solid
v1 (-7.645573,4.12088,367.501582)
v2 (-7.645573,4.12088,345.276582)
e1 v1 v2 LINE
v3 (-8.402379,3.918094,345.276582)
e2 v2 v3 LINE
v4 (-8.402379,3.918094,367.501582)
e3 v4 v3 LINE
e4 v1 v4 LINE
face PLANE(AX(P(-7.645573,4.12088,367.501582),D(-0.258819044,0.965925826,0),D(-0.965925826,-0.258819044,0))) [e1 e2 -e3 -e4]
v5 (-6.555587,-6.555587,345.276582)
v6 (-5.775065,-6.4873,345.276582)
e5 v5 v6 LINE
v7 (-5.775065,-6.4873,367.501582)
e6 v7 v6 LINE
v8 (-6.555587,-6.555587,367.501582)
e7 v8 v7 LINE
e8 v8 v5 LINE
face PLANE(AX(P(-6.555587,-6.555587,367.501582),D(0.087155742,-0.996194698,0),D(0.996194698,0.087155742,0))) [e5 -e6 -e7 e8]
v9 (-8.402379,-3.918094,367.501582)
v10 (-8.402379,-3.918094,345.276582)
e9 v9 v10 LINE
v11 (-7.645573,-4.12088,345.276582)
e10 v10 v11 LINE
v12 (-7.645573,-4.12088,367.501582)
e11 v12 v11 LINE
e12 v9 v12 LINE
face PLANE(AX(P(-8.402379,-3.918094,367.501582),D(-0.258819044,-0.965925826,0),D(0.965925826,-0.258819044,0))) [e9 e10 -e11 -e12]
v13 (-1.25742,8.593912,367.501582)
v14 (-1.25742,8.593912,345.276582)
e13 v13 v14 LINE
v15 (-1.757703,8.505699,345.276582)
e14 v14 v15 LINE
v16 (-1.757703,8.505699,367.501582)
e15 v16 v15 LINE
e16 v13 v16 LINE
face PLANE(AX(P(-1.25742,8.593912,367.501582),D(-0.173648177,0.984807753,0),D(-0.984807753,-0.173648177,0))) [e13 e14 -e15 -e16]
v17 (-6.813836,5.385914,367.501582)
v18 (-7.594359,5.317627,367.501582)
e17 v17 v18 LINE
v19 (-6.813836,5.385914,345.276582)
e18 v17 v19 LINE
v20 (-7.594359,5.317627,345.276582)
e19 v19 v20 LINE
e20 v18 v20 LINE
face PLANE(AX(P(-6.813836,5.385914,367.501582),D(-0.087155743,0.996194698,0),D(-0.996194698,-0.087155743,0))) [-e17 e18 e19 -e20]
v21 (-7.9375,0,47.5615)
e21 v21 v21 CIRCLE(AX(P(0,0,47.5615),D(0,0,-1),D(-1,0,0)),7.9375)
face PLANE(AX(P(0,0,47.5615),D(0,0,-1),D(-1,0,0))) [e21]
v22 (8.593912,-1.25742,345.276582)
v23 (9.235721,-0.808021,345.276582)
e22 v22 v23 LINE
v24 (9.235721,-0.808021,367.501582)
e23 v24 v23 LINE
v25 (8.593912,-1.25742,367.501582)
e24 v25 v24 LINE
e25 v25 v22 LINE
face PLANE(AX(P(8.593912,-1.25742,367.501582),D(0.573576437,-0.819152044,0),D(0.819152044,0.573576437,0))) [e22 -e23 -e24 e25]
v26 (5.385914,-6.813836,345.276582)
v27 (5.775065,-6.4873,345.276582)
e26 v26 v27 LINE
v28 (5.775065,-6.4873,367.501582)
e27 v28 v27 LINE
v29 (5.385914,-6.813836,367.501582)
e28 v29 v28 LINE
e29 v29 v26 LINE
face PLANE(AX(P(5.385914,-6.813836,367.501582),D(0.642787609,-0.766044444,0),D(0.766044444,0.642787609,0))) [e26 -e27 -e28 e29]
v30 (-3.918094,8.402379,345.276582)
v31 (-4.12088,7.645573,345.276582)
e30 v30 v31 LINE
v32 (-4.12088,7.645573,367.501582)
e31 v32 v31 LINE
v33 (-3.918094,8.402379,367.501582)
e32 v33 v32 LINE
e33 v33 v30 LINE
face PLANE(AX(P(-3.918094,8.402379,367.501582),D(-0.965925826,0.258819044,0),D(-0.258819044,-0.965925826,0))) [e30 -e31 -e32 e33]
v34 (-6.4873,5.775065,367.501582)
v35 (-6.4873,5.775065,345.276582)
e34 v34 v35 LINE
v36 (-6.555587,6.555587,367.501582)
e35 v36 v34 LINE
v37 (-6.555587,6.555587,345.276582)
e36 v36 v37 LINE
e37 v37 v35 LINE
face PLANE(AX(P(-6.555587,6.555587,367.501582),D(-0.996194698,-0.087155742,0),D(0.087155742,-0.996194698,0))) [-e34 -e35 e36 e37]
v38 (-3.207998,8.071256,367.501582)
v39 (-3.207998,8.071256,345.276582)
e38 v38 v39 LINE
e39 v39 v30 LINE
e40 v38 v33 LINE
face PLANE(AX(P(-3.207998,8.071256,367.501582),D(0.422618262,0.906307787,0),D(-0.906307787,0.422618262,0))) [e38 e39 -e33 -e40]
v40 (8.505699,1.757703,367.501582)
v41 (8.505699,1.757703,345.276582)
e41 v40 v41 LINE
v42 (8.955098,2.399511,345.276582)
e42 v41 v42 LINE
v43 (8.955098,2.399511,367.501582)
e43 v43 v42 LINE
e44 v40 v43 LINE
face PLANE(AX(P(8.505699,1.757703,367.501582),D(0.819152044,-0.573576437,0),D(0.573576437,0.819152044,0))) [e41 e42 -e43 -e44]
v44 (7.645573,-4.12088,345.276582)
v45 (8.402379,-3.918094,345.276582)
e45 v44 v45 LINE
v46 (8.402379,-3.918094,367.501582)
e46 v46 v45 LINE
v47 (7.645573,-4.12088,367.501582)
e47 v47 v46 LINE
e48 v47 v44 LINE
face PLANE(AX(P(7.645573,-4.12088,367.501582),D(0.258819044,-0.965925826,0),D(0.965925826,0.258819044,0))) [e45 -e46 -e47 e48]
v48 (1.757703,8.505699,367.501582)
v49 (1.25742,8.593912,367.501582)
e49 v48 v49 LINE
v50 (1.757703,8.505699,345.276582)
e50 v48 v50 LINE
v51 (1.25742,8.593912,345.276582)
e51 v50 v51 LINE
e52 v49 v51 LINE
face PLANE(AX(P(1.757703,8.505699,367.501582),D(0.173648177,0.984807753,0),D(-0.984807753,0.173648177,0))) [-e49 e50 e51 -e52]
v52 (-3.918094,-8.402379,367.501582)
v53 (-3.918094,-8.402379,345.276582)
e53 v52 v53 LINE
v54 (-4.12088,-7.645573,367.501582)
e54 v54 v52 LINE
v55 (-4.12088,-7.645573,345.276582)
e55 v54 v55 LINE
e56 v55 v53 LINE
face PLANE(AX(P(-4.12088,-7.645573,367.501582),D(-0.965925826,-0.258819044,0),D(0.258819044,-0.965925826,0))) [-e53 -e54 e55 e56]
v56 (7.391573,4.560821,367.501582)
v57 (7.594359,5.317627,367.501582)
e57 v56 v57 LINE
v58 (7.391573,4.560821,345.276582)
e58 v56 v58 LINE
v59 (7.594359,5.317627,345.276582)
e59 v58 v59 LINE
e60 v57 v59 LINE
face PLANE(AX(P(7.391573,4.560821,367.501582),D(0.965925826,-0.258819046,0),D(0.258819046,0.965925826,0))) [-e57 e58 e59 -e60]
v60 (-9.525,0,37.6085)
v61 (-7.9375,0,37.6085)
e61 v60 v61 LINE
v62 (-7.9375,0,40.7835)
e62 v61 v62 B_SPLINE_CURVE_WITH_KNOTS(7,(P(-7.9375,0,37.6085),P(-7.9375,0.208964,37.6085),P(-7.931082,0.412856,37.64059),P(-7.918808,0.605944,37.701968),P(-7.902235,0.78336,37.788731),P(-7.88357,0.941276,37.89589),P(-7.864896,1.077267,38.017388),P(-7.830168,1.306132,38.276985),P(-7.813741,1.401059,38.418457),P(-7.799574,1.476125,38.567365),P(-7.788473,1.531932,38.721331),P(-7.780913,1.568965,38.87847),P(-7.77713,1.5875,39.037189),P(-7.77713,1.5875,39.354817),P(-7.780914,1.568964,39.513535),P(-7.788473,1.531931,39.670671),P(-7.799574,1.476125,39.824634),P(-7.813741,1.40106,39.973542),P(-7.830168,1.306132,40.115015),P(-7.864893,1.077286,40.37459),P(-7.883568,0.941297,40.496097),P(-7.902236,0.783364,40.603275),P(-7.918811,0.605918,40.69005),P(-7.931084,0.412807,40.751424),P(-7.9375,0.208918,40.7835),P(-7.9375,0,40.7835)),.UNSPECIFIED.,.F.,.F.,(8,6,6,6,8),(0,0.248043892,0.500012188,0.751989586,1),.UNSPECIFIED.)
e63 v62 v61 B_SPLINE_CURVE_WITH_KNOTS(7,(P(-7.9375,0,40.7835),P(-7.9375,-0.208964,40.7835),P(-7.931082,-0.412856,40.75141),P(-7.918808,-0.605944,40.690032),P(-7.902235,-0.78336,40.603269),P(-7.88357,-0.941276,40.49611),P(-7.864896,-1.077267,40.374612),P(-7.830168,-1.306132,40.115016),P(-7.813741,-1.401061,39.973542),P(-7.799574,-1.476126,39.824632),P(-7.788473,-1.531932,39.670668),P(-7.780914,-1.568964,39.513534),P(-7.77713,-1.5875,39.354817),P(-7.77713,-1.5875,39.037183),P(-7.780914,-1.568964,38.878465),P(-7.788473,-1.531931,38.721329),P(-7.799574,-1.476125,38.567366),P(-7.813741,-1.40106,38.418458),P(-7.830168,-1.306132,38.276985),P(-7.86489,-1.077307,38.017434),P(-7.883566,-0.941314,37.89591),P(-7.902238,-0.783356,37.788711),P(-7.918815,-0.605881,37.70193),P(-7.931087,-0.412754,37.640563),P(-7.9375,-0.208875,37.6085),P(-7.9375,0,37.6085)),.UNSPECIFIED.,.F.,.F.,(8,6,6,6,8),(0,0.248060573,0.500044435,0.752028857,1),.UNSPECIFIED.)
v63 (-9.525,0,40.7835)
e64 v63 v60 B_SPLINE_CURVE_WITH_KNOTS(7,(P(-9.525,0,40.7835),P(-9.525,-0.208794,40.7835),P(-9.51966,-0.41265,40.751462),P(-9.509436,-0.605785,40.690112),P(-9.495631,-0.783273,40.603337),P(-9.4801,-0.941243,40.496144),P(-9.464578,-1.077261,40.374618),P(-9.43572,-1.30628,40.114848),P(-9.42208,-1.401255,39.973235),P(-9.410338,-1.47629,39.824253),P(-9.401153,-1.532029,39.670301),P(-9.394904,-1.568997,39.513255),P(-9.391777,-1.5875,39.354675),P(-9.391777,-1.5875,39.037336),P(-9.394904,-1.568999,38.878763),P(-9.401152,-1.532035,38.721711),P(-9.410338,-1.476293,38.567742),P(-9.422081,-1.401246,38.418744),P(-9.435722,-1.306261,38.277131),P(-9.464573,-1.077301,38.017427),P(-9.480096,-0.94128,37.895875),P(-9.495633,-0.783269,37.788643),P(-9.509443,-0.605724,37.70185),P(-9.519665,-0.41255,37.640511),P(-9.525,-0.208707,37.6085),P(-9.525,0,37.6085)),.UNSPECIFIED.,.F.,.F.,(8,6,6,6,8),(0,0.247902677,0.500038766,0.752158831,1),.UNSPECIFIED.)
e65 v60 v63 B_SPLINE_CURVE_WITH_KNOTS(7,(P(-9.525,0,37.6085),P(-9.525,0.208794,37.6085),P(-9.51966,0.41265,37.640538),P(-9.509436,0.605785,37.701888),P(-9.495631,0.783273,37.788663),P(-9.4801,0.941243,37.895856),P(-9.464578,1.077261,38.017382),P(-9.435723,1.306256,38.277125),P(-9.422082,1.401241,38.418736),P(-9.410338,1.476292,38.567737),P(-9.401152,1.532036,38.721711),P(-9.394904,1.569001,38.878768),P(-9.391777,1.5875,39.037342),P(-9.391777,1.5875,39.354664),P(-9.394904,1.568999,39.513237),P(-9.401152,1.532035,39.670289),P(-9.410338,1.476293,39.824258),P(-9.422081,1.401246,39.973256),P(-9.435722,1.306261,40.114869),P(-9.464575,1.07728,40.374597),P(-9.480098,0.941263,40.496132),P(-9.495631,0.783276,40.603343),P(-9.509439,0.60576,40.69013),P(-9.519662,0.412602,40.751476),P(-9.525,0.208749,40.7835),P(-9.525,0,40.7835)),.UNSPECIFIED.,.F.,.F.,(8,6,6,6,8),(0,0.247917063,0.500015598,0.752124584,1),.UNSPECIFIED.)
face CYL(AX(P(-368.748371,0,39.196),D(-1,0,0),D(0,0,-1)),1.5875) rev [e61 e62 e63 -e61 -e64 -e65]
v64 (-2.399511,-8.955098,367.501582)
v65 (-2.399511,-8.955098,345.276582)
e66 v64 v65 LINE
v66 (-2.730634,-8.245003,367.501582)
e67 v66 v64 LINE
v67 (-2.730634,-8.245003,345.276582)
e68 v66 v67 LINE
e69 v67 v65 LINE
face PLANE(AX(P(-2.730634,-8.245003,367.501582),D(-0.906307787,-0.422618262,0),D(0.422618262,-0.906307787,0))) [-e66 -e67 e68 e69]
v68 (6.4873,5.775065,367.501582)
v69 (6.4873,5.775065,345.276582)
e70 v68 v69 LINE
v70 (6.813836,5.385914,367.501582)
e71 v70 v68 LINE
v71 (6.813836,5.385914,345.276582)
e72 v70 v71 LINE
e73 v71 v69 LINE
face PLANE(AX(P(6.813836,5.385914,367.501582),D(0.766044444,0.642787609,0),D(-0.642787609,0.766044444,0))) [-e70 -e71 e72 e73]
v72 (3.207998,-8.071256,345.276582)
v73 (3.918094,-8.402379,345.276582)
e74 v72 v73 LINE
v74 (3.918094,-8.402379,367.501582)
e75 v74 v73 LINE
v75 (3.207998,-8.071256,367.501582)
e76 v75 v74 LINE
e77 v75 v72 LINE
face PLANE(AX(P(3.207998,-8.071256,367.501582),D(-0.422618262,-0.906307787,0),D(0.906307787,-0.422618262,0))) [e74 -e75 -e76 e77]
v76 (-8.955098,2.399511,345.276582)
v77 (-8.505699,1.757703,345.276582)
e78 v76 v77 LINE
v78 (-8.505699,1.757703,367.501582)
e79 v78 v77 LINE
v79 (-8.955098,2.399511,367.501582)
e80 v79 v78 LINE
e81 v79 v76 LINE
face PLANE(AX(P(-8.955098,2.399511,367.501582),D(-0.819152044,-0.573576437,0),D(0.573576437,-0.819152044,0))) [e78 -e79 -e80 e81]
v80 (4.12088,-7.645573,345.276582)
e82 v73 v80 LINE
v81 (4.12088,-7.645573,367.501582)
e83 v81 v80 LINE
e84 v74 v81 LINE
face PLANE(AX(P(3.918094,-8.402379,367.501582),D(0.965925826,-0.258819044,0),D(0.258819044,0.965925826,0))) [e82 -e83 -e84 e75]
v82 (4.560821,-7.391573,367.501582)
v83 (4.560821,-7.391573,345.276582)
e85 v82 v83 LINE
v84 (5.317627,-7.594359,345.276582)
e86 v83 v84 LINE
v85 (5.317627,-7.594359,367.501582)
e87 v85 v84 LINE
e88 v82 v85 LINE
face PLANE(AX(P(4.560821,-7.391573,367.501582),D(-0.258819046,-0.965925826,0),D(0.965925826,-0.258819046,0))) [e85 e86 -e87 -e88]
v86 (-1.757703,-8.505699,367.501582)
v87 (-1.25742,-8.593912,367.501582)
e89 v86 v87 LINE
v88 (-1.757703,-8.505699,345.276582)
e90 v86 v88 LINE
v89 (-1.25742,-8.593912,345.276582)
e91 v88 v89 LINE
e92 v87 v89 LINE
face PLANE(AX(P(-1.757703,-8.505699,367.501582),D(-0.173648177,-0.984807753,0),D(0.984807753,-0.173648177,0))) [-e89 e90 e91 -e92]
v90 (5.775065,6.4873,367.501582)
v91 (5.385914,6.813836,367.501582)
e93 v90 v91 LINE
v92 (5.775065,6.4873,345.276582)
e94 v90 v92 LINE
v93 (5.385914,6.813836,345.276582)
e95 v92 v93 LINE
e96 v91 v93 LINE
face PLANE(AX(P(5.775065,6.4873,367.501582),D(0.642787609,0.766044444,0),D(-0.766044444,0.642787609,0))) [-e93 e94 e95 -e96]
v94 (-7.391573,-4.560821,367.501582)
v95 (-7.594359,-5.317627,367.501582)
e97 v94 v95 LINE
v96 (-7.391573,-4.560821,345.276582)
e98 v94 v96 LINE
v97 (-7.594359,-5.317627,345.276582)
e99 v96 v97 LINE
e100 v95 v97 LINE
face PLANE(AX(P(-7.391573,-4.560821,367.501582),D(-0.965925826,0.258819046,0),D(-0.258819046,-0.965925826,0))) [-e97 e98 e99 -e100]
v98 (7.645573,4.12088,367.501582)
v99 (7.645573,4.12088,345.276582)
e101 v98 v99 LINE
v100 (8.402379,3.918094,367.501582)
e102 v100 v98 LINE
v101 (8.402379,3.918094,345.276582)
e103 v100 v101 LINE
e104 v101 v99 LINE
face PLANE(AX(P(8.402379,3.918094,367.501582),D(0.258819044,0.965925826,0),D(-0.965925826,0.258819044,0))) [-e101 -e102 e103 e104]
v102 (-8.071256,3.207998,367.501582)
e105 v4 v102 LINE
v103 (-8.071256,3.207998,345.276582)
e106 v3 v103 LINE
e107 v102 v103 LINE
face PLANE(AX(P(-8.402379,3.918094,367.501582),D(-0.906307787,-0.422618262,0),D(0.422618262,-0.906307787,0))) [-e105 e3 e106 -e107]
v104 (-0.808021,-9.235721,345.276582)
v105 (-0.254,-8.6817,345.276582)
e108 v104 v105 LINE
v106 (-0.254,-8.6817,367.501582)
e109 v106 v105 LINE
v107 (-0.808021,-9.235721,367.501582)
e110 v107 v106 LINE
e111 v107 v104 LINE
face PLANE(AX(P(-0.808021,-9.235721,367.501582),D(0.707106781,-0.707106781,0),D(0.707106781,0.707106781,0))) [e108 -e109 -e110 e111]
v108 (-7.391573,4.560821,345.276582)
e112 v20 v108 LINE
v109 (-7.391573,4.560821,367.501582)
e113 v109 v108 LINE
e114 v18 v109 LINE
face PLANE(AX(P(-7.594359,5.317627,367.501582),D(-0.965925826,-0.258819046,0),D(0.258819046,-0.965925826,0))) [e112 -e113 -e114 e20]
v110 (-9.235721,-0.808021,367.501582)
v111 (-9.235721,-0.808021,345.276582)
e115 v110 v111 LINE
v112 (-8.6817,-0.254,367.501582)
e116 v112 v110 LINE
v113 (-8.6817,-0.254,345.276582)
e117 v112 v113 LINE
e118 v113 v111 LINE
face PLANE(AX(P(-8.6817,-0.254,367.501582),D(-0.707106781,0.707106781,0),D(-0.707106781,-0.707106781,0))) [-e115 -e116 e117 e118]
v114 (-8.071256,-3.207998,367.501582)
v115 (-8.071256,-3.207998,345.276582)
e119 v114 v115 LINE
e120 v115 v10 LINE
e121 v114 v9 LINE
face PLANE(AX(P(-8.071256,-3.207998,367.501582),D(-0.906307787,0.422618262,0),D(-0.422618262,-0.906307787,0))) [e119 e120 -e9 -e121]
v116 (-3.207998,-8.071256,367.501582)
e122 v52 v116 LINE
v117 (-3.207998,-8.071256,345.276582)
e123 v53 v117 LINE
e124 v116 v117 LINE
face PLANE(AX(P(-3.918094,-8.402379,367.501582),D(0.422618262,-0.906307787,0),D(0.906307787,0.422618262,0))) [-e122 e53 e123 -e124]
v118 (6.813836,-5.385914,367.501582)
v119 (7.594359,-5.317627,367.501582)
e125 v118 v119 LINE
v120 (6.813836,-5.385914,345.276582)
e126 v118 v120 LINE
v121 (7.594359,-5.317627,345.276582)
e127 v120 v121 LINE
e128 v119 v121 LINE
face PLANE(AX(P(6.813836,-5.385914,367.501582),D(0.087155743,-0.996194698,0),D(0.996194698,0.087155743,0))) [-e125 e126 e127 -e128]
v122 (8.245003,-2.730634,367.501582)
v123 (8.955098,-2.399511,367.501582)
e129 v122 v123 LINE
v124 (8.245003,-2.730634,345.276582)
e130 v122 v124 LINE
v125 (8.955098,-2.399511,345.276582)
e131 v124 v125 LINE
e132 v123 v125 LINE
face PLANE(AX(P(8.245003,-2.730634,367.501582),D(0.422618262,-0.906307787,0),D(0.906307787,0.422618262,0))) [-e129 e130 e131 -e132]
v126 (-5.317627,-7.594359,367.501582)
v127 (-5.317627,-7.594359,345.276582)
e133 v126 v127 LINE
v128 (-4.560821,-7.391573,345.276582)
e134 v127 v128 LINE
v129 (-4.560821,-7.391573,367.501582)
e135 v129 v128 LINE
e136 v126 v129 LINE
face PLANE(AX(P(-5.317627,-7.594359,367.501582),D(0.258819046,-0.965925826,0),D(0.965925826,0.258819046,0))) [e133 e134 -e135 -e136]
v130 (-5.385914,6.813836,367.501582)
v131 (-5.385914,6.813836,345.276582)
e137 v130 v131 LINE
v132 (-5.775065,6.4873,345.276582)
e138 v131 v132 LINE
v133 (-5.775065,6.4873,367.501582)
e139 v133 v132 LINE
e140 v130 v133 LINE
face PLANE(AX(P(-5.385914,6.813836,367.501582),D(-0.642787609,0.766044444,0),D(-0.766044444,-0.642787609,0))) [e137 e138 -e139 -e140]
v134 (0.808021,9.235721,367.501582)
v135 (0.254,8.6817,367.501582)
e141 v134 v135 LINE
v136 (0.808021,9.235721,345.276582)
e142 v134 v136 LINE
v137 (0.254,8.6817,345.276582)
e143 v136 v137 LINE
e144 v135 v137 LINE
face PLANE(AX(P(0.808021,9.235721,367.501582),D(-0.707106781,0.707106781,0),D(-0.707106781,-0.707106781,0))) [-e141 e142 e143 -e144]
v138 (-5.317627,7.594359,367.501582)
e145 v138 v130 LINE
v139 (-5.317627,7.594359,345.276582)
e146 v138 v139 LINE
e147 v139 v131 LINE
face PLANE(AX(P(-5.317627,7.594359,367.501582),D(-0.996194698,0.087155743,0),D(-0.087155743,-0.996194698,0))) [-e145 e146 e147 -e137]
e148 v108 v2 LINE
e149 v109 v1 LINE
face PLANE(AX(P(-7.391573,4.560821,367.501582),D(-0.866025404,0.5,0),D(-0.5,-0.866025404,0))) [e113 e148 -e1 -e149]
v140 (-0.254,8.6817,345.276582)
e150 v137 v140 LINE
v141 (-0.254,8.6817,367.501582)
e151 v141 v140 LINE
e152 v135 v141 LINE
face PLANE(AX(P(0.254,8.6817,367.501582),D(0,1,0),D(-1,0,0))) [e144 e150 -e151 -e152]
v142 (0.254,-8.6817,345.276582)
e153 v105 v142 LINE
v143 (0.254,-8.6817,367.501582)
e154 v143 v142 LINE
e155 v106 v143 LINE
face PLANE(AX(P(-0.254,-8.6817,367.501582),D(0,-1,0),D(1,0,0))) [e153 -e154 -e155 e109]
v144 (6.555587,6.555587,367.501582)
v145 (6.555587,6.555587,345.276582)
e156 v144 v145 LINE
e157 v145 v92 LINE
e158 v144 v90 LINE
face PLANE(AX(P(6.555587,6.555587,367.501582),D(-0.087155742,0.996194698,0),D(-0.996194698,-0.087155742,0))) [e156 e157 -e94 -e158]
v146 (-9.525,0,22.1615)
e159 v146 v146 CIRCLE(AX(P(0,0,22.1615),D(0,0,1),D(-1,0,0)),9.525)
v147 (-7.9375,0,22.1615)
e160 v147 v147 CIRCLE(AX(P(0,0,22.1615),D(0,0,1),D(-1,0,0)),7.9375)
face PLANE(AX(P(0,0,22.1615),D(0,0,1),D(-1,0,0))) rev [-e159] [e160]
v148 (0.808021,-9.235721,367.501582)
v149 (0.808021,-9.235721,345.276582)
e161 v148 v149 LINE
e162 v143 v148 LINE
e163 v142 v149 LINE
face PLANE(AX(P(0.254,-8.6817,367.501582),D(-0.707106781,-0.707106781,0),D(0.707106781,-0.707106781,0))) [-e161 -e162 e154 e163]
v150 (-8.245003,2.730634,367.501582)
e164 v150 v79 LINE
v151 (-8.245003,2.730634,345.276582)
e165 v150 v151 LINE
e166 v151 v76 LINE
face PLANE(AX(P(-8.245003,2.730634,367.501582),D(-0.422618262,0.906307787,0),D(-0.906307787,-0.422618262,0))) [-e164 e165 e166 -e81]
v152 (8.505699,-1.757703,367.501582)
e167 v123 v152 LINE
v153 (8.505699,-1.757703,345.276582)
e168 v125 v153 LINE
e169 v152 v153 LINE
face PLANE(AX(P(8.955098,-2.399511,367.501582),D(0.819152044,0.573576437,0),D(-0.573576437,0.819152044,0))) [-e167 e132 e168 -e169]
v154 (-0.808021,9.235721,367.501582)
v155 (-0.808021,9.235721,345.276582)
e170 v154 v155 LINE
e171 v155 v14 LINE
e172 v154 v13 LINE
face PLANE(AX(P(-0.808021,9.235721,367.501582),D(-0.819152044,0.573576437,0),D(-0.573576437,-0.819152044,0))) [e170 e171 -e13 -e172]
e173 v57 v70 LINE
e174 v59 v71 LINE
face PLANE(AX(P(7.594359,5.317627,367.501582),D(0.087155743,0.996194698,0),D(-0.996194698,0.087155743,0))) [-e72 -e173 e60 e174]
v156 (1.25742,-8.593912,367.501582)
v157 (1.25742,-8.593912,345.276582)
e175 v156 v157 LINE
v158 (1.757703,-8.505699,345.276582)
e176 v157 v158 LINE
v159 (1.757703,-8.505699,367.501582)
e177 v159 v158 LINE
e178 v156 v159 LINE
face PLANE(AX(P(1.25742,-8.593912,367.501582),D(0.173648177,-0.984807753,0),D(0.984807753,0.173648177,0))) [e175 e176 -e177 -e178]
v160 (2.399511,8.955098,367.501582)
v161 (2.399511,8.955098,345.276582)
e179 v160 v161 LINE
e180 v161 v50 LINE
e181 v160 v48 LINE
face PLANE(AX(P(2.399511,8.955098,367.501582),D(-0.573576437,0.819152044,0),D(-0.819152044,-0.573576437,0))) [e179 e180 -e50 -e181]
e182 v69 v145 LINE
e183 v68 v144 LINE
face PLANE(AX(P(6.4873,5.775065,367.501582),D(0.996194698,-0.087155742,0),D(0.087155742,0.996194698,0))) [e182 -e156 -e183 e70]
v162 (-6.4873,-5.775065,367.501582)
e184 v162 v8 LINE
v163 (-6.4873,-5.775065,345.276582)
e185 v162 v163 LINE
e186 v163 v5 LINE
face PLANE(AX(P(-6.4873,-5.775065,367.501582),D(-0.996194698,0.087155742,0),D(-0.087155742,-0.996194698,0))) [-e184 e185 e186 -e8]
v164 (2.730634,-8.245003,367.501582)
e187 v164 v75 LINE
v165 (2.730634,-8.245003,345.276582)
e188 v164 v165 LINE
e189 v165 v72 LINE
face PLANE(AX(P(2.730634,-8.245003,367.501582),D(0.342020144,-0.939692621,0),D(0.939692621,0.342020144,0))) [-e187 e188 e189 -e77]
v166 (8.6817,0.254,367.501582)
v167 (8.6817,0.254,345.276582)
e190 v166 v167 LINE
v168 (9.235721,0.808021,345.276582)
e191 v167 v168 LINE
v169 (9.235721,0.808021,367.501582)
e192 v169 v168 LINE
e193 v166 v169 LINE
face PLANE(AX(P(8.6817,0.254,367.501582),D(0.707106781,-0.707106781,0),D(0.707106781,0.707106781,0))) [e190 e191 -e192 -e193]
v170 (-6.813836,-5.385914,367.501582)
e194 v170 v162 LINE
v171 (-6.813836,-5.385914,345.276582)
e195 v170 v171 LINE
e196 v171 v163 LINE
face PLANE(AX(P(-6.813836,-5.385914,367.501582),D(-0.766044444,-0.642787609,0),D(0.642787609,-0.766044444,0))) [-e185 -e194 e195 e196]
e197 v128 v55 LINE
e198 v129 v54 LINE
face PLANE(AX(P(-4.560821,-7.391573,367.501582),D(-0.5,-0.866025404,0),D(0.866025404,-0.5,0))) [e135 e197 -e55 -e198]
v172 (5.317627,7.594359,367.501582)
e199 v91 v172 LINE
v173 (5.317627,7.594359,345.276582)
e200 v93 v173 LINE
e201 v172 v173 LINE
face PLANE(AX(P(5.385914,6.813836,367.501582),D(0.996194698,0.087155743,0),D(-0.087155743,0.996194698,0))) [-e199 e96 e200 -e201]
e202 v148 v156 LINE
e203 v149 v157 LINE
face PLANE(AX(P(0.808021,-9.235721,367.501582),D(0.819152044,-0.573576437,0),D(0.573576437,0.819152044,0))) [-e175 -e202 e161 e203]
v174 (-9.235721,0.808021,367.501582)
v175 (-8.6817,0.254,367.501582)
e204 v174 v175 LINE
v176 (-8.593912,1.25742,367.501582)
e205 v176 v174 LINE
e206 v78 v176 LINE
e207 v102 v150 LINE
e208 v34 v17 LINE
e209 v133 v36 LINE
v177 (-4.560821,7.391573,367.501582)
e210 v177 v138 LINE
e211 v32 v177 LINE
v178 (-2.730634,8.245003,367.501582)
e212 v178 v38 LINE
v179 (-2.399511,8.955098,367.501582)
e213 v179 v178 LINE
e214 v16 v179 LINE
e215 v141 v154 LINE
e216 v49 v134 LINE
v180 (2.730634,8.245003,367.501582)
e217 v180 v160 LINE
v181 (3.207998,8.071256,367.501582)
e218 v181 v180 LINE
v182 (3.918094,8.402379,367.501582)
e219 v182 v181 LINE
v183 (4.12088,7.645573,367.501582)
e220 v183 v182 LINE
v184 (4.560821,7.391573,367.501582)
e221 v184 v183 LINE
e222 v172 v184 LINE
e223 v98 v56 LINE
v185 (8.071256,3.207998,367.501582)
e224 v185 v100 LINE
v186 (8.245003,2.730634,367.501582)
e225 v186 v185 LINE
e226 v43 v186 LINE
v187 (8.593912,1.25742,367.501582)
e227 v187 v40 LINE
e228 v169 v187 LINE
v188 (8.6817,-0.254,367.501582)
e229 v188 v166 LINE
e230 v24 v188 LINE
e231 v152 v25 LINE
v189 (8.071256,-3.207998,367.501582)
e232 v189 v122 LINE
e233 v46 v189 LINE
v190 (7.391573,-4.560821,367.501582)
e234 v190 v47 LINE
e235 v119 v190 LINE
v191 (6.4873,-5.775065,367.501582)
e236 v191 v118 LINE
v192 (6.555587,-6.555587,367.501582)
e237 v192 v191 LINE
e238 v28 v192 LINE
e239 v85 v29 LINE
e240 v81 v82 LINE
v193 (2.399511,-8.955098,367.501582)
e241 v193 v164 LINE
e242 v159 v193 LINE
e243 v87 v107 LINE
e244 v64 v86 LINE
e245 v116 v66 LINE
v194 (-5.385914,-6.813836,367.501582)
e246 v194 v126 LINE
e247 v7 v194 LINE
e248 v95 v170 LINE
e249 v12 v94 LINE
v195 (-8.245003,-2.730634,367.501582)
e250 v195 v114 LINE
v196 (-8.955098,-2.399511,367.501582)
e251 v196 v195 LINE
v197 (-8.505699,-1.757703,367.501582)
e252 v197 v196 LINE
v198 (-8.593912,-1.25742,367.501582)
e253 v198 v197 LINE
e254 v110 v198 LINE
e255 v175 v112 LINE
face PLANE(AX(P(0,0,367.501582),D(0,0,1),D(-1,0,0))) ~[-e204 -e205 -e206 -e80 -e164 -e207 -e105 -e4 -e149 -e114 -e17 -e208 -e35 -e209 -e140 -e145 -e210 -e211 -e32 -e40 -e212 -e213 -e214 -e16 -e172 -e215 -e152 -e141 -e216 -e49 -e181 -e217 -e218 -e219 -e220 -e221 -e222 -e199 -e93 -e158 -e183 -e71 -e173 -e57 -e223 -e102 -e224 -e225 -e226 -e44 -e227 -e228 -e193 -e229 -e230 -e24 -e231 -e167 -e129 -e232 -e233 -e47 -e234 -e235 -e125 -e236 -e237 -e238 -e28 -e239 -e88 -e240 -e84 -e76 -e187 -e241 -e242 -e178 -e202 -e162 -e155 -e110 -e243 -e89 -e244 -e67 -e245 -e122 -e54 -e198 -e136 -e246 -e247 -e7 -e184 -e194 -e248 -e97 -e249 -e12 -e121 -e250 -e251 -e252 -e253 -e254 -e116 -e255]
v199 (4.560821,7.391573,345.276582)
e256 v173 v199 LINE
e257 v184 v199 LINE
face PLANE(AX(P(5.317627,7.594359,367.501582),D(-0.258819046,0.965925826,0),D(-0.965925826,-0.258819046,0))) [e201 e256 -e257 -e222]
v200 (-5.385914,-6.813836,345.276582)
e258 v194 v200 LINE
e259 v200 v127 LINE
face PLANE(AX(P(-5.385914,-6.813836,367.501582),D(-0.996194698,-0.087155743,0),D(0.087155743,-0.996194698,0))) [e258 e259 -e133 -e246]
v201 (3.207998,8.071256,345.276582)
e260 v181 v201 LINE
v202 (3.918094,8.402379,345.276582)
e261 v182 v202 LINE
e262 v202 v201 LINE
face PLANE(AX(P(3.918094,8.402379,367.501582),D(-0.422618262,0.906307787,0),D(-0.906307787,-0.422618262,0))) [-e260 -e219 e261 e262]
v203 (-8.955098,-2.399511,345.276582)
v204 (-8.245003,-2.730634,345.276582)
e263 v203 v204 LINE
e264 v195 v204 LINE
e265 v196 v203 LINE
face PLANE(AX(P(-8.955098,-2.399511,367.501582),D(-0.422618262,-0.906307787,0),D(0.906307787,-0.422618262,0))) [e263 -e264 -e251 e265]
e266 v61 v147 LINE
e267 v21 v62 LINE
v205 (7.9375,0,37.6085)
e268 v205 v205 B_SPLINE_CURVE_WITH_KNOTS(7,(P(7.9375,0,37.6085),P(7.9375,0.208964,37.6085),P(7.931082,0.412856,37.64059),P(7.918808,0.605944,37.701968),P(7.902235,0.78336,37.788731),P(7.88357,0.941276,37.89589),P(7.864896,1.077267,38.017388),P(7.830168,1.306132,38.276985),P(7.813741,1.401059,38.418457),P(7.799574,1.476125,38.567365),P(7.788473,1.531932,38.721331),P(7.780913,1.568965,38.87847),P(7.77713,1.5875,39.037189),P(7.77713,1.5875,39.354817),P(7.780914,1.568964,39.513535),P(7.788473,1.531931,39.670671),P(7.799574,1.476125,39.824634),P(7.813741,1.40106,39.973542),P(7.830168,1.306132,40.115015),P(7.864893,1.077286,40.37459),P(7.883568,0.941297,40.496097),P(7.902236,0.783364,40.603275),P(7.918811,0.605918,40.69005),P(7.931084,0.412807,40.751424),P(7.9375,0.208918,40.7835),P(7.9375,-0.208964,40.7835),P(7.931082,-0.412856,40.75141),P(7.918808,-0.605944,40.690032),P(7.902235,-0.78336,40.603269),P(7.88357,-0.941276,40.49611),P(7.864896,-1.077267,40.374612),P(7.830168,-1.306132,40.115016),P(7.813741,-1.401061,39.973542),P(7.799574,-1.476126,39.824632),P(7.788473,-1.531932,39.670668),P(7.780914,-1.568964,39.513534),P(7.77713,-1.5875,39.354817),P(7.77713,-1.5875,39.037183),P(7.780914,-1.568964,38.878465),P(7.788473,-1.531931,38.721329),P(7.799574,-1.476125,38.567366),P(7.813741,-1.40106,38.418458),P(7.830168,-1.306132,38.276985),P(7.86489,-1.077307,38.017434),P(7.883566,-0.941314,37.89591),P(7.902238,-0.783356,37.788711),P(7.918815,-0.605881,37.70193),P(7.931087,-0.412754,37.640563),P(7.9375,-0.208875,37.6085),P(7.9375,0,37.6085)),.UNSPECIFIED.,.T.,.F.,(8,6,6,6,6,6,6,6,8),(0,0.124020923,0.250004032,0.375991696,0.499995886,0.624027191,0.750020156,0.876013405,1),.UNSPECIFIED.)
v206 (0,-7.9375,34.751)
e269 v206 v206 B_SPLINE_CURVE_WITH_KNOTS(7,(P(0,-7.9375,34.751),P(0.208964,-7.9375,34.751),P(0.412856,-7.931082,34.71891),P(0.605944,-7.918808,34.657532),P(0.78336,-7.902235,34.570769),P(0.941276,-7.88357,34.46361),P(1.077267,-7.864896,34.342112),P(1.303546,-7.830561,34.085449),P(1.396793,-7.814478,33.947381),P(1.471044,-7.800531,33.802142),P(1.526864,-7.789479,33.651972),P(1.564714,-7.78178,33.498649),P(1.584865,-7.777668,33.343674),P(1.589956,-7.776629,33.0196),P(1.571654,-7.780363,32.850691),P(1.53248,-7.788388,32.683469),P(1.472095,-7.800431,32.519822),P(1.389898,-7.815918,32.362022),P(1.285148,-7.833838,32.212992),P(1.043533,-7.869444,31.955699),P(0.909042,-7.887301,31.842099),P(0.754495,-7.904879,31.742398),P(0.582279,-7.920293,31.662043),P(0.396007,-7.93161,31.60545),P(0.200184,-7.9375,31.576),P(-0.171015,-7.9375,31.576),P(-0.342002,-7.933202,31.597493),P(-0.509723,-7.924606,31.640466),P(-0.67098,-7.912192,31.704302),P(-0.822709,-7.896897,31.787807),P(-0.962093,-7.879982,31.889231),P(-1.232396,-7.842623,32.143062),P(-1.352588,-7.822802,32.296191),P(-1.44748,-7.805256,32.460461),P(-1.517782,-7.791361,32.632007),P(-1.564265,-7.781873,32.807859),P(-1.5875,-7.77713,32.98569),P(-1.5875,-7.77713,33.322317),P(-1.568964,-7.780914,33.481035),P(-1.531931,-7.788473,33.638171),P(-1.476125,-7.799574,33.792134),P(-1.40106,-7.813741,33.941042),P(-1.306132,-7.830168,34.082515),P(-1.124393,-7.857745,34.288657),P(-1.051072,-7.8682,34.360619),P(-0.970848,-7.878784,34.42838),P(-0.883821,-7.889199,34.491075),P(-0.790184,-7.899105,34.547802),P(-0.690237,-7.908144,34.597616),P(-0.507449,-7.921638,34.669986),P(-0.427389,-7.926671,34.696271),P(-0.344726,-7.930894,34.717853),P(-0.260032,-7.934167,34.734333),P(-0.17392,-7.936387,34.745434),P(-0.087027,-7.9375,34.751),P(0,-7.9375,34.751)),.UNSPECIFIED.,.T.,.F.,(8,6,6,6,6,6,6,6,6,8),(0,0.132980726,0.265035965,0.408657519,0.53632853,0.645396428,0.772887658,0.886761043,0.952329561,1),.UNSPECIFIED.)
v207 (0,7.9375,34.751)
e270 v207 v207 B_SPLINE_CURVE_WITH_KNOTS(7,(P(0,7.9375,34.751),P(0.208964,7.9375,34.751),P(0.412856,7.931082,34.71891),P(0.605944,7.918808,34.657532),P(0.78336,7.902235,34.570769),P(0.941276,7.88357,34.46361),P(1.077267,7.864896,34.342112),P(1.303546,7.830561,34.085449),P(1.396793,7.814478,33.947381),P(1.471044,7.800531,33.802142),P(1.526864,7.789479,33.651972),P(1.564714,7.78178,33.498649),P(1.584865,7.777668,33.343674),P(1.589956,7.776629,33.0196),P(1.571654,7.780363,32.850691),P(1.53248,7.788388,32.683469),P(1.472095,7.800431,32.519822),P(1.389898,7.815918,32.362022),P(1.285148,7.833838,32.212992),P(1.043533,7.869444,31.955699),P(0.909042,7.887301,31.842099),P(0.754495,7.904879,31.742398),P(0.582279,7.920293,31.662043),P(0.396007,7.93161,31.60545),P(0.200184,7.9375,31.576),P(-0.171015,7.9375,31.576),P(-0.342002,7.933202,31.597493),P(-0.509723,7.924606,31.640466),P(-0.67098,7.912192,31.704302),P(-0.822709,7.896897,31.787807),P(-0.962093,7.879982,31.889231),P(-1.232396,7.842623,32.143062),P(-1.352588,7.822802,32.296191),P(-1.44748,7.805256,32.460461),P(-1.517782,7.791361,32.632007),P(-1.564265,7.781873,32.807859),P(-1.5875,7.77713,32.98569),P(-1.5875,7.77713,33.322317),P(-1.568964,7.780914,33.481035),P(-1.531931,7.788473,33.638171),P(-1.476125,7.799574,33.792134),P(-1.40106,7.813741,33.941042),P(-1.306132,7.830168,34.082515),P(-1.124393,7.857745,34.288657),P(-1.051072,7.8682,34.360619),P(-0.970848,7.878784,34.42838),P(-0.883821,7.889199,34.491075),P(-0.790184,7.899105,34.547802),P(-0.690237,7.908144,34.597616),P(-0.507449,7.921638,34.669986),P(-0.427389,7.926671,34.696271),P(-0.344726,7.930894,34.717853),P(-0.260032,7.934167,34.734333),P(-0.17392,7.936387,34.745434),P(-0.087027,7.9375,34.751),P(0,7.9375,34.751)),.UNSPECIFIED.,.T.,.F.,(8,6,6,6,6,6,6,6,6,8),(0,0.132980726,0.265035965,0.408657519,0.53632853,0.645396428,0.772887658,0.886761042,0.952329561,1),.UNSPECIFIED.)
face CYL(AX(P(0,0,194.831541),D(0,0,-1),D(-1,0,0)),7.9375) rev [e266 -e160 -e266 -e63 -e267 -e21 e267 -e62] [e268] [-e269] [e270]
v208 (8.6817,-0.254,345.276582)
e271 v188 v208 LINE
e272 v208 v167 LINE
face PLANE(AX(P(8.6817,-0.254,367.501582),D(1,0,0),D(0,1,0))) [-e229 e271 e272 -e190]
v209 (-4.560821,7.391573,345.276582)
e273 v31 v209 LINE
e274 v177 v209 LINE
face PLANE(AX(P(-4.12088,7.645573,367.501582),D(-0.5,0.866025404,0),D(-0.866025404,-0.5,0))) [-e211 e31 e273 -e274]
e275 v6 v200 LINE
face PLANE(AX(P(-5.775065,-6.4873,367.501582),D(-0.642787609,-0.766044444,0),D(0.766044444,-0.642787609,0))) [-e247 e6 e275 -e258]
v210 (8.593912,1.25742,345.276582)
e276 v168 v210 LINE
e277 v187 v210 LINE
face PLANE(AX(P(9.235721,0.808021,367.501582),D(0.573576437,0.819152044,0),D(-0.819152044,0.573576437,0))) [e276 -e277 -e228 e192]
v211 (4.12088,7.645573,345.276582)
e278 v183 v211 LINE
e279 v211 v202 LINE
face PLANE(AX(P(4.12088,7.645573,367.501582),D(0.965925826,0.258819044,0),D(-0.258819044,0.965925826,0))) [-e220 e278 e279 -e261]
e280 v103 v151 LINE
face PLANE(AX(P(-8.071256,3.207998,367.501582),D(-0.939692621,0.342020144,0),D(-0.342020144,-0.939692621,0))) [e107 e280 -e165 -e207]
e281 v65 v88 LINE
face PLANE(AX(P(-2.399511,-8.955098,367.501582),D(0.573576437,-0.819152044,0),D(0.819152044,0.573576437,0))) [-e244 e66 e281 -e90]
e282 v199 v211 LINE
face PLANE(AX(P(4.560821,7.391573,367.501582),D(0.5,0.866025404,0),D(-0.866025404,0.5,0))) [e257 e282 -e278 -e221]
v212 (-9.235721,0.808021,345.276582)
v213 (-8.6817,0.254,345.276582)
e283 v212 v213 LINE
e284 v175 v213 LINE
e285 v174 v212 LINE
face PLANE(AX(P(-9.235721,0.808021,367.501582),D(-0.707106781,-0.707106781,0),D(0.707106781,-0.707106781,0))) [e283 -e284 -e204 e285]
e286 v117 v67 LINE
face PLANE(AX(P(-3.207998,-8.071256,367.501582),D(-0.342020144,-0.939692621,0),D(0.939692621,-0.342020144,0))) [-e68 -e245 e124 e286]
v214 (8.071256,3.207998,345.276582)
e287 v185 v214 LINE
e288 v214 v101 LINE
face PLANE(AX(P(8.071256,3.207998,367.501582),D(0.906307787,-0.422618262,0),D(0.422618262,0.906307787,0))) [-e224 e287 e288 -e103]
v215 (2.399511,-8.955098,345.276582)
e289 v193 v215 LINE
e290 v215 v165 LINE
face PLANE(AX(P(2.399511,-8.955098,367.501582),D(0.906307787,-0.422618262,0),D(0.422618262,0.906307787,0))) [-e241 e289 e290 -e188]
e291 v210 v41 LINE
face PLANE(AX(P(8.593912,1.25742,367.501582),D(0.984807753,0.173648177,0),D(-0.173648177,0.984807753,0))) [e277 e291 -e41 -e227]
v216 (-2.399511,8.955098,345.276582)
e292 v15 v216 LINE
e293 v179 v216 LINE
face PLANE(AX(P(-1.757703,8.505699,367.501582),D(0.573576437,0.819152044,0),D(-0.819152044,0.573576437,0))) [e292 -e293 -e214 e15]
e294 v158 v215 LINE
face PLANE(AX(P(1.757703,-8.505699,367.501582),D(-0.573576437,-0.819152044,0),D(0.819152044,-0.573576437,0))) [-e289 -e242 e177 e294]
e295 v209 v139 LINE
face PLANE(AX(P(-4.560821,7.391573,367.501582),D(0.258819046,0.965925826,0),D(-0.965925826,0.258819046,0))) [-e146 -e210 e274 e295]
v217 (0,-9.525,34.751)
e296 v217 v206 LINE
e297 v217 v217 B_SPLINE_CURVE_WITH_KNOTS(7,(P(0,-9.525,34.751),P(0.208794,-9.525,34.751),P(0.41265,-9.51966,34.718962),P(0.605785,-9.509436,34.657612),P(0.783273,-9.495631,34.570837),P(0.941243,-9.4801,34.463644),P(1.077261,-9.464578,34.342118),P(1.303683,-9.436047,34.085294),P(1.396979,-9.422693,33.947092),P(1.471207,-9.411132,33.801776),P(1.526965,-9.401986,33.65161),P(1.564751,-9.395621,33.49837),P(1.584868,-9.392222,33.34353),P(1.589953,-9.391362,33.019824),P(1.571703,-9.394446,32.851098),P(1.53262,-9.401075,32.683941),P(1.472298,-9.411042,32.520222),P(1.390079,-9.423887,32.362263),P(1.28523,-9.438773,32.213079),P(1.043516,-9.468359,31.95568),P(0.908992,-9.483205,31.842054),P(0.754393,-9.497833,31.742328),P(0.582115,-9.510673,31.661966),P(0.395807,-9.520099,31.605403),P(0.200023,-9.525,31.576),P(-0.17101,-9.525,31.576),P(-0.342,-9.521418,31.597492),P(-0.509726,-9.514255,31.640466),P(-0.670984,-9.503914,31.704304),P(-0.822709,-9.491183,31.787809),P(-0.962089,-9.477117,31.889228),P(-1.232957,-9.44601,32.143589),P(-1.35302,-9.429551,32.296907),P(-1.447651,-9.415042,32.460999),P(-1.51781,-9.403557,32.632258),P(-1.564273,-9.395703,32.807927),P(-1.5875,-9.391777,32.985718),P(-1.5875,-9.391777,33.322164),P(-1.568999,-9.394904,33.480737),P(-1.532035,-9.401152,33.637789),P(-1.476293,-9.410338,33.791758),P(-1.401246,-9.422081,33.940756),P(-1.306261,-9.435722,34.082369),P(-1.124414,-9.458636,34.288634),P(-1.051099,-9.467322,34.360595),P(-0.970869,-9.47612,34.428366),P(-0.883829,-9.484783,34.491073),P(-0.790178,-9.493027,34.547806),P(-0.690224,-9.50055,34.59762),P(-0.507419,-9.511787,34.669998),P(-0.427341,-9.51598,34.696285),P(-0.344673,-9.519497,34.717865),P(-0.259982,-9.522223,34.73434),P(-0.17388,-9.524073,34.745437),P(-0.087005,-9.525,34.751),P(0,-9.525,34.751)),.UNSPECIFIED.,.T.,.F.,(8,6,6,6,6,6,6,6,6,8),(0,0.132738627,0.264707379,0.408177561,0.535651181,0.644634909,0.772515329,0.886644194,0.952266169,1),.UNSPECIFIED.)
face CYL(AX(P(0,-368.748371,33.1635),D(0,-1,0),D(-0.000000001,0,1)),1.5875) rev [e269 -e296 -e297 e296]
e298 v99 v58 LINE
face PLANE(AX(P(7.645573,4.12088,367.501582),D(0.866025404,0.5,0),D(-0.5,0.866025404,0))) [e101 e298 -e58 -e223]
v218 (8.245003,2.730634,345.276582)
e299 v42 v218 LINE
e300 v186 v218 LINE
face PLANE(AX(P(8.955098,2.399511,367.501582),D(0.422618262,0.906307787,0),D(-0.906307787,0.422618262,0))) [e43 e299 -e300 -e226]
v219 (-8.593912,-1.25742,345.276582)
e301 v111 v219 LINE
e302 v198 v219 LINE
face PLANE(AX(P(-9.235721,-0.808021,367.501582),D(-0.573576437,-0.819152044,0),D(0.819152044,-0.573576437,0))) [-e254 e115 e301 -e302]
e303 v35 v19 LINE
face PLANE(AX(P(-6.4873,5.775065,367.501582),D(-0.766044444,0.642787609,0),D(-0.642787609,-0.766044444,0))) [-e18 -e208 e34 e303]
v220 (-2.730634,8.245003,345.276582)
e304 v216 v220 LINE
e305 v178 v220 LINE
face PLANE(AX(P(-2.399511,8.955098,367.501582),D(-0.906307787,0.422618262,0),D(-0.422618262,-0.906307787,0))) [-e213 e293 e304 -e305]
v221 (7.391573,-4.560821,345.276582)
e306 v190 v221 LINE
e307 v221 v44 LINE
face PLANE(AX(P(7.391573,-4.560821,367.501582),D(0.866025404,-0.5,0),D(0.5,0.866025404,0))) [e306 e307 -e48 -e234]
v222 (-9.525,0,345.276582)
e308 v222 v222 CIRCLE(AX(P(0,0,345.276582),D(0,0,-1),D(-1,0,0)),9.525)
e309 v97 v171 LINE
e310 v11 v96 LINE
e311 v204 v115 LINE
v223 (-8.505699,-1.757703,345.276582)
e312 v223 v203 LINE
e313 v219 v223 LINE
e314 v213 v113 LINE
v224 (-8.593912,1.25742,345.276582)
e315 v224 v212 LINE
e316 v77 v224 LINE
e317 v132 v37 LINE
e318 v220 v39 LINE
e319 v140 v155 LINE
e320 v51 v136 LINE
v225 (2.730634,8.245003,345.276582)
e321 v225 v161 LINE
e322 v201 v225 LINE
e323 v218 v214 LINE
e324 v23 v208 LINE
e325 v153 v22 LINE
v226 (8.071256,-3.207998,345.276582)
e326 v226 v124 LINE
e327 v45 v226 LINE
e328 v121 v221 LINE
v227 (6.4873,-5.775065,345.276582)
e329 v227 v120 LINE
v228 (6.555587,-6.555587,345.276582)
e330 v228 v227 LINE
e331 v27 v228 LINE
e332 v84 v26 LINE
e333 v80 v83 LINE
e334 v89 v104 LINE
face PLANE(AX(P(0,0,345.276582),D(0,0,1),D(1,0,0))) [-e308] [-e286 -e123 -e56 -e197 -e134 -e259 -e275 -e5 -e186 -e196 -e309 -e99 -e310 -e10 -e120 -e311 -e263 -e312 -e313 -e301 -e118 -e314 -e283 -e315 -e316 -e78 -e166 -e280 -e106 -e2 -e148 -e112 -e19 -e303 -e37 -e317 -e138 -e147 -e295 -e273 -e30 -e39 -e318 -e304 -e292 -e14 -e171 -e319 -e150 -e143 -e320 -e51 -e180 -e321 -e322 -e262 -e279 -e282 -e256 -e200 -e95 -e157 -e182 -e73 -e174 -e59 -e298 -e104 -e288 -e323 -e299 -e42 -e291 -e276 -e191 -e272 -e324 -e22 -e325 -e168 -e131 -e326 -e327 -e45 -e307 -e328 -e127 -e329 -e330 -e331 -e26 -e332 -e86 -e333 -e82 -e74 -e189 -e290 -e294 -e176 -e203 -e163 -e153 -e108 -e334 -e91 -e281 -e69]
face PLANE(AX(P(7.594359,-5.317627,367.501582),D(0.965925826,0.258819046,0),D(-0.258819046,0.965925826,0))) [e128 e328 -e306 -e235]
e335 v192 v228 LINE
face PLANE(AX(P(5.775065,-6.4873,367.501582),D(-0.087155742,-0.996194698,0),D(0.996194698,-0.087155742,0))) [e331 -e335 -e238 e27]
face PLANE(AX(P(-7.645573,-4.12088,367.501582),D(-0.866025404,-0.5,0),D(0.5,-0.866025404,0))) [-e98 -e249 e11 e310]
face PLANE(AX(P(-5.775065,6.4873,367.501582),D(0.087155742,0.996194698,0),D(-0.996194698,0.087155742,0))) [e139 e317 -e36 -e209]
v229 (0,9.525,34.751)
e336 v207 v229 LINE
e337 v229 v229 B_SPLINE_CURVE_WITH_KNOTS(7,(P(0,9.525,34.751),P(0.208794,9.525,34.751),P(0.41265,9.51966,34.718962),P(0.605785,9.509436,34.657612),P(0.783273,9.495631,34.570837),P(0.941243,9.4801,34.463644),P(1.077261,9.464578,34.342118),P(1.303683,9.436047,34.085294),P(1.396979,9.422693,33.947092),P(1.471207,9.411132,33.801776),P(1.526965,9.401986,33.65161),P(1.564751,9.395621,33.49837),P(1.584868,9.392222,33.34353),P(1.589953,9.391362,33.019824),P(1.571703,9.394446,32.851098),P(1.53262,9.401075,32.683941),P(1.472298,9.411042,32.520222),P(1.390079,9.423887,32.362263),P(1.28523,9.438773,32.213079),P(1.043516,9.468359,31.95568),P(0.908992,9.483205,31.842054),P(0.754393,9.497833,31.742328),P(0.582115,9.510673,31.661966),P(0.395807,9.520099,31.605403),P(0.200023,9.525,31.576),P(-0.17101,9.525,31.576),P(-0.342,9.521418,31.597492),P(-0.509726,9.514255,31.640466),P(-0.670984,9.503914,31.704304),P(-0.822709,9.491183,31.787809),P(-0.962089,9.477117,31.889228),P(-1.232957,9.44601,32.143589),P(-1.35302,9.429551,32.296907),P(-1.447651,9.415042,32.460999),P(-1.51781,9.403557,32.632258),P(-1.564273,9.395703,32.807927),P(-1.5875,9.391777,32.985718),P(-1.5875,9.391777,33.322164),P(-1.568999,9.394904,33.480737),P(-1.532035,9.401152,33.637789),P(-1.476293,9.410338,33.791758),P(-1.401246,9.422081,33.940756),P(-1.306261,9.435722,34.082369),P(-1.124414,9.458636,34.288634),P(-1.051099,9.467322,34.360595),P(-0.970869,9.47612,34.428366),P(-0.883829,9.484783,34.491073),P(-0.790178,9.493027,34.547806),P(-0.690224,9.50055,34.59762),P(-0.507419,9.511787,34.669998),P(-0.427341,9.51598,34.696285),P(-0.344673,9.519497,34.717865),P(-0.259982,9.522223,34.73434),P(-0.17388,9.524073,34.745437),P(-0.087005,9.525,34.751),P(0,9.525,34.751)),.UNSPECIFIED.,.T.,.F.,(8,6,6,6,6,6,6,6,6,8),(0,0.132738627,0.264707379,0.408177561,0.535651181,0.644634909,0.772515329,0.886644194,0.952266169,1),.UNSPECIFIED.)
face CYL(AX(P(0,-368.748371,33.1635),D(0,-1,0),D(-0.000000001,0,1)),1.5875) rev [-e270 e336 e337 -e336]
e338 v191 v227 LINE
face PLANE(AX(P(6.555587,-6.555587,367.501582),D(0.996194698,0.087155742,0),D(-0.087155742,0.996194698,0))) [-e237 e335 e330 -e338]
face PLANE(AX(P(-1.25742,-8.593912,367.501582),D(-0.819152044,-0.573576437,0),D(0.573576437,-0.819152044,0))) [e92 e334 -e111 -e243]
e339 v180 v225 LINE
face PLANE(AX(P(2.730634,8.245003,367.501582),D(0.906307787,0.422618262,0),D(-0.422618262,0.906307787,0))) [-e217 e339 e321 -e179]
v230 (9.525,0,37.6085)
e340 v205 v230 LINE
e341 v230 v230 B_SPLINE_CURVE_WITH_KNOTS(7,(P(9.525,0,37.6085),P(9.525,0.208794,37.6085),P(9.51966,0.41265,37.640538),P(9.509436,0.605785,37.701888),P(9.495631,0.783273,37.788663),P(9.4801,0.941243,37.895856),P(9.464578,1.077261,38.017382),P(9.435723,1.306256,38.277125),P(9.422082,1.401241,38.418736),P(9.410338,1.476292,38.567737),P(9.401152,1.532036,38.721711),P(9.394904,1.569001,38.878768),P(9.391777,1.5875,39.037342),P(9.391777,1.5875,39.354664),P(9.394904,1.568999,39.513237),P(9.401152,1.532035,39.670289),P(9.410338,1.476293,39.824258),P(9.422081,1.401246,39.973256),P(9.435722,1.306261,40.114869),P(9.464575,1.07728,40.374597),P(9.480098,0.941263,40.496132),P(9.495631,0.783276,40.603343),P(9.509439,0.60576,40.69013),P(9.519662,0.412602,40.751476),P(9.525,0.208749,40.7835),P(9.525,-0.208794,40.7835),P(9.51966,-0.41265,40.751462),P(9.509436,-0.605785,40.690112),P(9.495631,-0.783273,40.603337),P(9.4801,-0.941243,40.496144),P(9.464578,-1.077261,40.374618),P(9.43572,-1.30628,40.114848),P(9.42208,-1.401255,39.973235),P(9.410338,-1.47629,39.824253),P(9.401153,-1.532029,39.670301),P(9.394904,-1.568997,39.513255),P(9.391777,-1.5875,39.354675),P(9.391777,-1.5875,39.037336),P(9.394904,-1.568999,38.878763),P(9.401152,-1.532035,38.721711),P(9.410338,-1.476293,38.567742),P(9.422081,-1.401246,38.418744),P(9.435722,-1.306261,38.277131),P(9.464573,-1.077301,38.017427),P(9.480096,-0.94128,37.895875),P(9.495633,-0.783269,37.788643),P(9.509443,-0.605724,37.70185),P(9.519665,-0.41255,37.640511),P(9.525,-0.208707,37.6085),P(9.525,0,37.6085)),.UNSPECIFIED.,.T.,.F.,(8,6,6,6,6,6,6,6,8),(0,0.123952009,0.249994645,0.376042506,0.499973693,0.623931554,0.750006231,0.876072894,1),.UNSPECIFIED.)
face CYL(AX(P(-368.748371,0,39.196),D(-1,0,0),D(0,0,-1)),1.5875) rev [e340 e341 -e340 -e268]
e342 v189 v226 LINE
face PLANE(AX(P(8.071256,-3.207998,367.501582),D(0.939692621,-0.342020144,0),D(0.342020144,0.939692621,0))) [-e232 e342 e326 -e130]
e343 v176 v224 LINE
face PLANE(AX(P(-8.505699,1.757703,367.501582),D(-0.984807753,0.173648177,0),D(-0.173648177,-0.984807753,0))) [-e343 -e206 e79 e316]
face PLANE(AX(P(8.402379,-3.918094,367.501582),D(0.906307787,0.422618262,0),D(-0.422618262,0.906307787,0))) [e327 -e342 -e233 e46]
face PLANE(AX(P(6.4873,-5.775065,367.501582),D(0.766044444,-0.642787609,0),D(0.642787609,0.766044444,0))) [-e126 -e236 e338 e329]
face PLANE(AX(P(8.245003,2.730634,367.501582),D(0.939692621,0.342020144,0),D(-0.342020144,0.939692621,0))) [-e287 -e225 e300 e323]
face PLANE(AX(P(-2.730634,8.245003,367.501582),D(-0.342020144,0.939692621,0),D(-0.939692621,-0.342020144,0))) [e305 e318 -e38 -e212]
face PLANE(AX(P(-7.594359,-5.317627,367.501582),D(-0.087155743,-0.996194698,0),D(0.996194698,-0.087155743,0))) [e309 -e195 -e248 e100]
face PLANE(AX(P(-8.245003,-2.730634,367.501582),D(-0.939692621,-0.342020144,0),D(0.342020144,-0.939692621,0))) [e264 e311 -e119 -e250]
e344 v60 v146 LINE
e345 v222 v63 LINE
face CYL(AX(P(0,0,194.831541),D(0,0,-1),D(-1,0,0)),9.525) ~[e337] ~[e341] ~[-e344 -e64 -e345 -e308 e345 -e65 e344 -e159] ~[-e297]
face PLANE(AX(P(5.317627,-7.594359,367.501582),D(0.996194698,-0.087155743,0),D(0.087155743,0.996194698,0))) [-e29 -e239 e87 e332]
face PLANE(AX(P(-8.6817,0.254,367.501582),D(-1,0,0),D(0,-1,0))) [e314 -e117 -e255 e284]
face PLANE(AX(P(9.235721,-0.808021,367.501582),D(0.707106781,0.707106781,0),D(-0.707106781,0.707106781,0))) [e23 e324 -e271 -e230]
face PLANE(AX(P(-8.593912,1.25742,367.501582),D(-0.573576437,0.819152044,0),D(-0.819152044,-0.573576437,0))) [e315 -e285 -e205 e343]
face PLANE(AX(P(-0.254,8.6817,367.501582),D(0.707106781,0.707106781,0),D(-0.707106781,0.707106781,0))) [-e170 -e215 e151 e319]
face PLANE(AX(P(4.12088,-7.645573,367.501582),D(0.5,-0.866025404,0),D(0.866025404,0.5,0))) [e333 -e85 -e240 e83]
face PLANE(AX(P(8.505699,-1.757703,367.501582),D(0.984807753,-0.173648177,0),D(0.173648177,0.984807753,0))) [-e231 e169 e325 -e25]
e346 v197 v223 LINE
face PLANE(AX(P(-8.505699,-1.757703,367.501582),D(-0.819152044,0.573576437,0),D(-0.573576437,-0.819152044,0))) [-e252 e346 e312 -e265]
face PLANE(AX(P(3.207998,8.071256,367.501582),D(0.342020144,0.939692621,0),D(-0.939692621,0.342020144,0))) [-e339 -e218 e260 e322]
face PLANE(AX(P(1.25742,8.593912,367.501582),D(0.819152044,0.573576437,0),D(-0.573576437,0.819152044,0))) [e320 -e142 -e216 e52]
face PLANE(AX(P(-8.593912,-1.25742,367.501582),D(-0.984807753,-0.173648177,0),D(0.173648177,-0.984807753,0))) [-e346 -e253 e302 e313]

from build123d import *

# Parameters (mm, degrees)
SKETCH5_W               = 1.587499994
SKETCH5_H               = 345.340081988
CUT_EXTRUDE5_DEPTH      = 368.748370511
CUT_EXTRUDE5_DEPTH_BACK = 368.748370511
SKETCH7_R               = 1.5875
CUT_EXTRUDE6_DEPTH      = 368.748370616
CUT_EXTRUDE6_DEPTH_BACK = 368.748370616
SKETCH6_R               = 1.5875
CUT_EXTRUDE7_START      = 367.501582
SKETCH8_R               = 12.7
CUT_EXTRUDE7_DEPTH      = 22.225
SKETCH10_R              = 7.9375
BOSS_EXTRUDE1_DEPTH     = 319.940081988


with BuildPart() as part:
    # Sketch5 → Revolve2 (revolve)
    with BuildSketch(Plane(origin=(0, 0, 0), x_dir=(1, 0, 0), z_dir=(0, 1, 0)), mode=Mode.PRIVATE) as revolve2_sk:
        with Locations((8.731249997, -194.831540994)):
            Rectangle(SKETCH5_W, SKETCH5_H)
    revolve(revolve2_sk.sketch.rotate(Axis((0, 0, 0), (0, 0, 1)), 180), axis=Axis((0, 0, 0), (0, 0, 1)))

    # Sketch7 → Cut-Extrude5 (cut, two sides: drawn at the far end of the back side and taken through both)
    with BuildSketch(Plane(origin=(0, 0, 0), x_dir=(0, 0, -1), z_dir=(1, 0, 0)).offset(-CUT_EXTRUDE5_DEPTH_BACK)):
        with Locations((-39.195999993, 0)):
            Circle(SKETCH7_R)
    extrude(amount=CUT_EXTRUDE5_DEPTH + CUT_EXTRUDE5_DEPTH_BACK, mode=Mode.SUBTRACT)

    # Sketch6 → Cut-Extrude6 (cut, two sides: drawn at the far end of the back side and taken through both)
    with BuildSketch(Plane(origin=(0, 0, 0), x_dir=(1, 0, 0), z_dir=(0, 1, 0)).offset(-CUT_EXTRUDE6_DEPTH_BACK)):
        with Locations(Location((1e-09, -33.163499999, 0), (0, 0, 269.999999955))):
            Circle(SKETCH6_R)
    extrude(amount=CUT_EXTRUDE6_DEPTH + CUT_EXTRUDE6_DEPTH_BACK, mode=Mode.SUBTRACT)

    # Sketch8 → Cut-Extrude7 (cut)
    with BuildSketch(Plane.XY.offset(CUT_EXTRUDE7_START)):
        Circle(SKETCH8_R)
        Polygon((9.235721046, -0.808020891), (8.681700155, -0.254), (8.681700155, 0.254), (9.235721046, 0.808020891), (8.593912259, 1.257420242), (8.505698985, 1.75770258), (8.955098336, 2.399511367), (8.245002688, 2.730634406), (8.071256455, 3.207998257), (8.402379494, 3.918093905), (7.645572882, 4.120879625), (7.391572882, 4.56082053), (7.594358603, 5.317627141), (6.813836213, 5.385914002), (6.487300108, 5.775064579), (6.555586968, 6.555586968), (5.775064579, 6.487300108), (5.385914002, 6.813836213), (5.317627141, 7.594358603), (4.56082053, 7.391572882), (4.120879625, 7.645572882), (3.918093905, 8.402379494), (3.207998257, 8.071256455), (2.730634406, 8.245002688), (2.399511367, 8.955098336), (1.75770258, 8.505698985), (1.257420242, 8.593912259), (0.808020891, 9.235721046), (0.254, 8.681700155), (-0.254, 8.681700155), (-0.808020891, 9.235721046), (-1.257420242, 8.593912259), (-1.75770258, 8.505698985), (-2.399511367, 8.955098336), (-2.730634406, 8.245002688), (-3.207998257, 8.071256455), (-3.918093905, 8.402379494), (-4.120879625, 7.645572882), (-4.56082053, 7.391572882), (-5.317627141, 7.594358603), (-5.385914002, 6.813836213), (-5.775064579, 6.487300108), (-6.555586968, 6.555586968), (-6.487300108, 5.775064579), (-6.813836213, 5.385914002), (-7.594358603, 5.317627141), (-7.391572882, 4.56082053), (-7.645572882, 4.120879625), (-8.402379494, 3.918093905), (-8.071256455, 3.207998257), (-8.245002688, 2.730634406), (-8.955098336, 2.399511367), (-8.505698985, 1.75770258), (-8.593912259, 1.257420242), (-9.235721046, 0.808020891), (-8.681700155, 0.254), (-8.681700155, -0.254), (-9.235721046, -0.808020891), (-8.593912259, -1.257420242), (-8.505698985, -1.75770258), (-8.955098336, -2.399511367), (-8.245002688, -2.730634406), (-8.071256455, -3.207998257), (-8.402379494, -3.918093905), (-7.645572882, -4.120879625), (-7.391572882, -4.56082053), (-7.594358603, -5.317627141), (-6.813836213, -5.385914002), (-6.487300108, -5.775064579), (-6.555586968, -6.555586968), (-5.775064579, -6.487300108), (-5.385914002, -6.813836213), (-5.317627141, -7.594358603), (-4.56082053, -7.391572882), (-4.120879625, -7.645572882), (-3.918093905, -8.402379494), (-3.207998257, -8.071256455), (-2.730634406, -8.245002688), (-2.399511367, -8.955098336), (-1.75770258, -8.505698985), (-1.257420242, -8.593912259), (-0.808020891, -9.235721046), (-0.254, -8.681700155), (0.254, -8.681700155), (0.808020891, -9.235721046), (1.257420242, -8.593912259), (1.75770258, -8.505698985), (2.399511367, -8.955098336), (2.730634406, -8.245002688), (3.207998257, -8.071256455), (3.918093905, -8.402379494), (4.120879625, -7.645572882), (4.56082053, -7.391572882), (5.317627141, -7.594358603), (5.385914002, -6.813836213), (5.775064579, -6.487300108), (6.555586968, -6.555586968), (6.487300108, -5.775064579), (6.813836213, -5.385914002), (7.594358603, -5.317627141), (7.391572882, -4.56082053), (7.645572882, -4.120879625), (8.402379494, -3.918093905), (8.071256455, -3.207998257), (8.245002688, -2.730634406), (8.955098336, -2.399511367), (8.505698985, -1.75770258), (8.593912259, -1.257420242), align=None, mode=Mode.SUBTRACT)
    extrude(amount=-CUT_EXTRUDE7_DEPTH, mode=Mode.SUBTRACT)

    # Sketch10 → Boss-Extrude1 (add)
    with BuildSketch(Plane(origin=(0, 0, 47.5615), x_dir=(-1, 0, 0), z_dir=(0, 0, -1))):
        Circle(SKETCH10_R)
    extrude(amount=-BOSS_EXTRUDE1_DEPTH)


solid = part.part
